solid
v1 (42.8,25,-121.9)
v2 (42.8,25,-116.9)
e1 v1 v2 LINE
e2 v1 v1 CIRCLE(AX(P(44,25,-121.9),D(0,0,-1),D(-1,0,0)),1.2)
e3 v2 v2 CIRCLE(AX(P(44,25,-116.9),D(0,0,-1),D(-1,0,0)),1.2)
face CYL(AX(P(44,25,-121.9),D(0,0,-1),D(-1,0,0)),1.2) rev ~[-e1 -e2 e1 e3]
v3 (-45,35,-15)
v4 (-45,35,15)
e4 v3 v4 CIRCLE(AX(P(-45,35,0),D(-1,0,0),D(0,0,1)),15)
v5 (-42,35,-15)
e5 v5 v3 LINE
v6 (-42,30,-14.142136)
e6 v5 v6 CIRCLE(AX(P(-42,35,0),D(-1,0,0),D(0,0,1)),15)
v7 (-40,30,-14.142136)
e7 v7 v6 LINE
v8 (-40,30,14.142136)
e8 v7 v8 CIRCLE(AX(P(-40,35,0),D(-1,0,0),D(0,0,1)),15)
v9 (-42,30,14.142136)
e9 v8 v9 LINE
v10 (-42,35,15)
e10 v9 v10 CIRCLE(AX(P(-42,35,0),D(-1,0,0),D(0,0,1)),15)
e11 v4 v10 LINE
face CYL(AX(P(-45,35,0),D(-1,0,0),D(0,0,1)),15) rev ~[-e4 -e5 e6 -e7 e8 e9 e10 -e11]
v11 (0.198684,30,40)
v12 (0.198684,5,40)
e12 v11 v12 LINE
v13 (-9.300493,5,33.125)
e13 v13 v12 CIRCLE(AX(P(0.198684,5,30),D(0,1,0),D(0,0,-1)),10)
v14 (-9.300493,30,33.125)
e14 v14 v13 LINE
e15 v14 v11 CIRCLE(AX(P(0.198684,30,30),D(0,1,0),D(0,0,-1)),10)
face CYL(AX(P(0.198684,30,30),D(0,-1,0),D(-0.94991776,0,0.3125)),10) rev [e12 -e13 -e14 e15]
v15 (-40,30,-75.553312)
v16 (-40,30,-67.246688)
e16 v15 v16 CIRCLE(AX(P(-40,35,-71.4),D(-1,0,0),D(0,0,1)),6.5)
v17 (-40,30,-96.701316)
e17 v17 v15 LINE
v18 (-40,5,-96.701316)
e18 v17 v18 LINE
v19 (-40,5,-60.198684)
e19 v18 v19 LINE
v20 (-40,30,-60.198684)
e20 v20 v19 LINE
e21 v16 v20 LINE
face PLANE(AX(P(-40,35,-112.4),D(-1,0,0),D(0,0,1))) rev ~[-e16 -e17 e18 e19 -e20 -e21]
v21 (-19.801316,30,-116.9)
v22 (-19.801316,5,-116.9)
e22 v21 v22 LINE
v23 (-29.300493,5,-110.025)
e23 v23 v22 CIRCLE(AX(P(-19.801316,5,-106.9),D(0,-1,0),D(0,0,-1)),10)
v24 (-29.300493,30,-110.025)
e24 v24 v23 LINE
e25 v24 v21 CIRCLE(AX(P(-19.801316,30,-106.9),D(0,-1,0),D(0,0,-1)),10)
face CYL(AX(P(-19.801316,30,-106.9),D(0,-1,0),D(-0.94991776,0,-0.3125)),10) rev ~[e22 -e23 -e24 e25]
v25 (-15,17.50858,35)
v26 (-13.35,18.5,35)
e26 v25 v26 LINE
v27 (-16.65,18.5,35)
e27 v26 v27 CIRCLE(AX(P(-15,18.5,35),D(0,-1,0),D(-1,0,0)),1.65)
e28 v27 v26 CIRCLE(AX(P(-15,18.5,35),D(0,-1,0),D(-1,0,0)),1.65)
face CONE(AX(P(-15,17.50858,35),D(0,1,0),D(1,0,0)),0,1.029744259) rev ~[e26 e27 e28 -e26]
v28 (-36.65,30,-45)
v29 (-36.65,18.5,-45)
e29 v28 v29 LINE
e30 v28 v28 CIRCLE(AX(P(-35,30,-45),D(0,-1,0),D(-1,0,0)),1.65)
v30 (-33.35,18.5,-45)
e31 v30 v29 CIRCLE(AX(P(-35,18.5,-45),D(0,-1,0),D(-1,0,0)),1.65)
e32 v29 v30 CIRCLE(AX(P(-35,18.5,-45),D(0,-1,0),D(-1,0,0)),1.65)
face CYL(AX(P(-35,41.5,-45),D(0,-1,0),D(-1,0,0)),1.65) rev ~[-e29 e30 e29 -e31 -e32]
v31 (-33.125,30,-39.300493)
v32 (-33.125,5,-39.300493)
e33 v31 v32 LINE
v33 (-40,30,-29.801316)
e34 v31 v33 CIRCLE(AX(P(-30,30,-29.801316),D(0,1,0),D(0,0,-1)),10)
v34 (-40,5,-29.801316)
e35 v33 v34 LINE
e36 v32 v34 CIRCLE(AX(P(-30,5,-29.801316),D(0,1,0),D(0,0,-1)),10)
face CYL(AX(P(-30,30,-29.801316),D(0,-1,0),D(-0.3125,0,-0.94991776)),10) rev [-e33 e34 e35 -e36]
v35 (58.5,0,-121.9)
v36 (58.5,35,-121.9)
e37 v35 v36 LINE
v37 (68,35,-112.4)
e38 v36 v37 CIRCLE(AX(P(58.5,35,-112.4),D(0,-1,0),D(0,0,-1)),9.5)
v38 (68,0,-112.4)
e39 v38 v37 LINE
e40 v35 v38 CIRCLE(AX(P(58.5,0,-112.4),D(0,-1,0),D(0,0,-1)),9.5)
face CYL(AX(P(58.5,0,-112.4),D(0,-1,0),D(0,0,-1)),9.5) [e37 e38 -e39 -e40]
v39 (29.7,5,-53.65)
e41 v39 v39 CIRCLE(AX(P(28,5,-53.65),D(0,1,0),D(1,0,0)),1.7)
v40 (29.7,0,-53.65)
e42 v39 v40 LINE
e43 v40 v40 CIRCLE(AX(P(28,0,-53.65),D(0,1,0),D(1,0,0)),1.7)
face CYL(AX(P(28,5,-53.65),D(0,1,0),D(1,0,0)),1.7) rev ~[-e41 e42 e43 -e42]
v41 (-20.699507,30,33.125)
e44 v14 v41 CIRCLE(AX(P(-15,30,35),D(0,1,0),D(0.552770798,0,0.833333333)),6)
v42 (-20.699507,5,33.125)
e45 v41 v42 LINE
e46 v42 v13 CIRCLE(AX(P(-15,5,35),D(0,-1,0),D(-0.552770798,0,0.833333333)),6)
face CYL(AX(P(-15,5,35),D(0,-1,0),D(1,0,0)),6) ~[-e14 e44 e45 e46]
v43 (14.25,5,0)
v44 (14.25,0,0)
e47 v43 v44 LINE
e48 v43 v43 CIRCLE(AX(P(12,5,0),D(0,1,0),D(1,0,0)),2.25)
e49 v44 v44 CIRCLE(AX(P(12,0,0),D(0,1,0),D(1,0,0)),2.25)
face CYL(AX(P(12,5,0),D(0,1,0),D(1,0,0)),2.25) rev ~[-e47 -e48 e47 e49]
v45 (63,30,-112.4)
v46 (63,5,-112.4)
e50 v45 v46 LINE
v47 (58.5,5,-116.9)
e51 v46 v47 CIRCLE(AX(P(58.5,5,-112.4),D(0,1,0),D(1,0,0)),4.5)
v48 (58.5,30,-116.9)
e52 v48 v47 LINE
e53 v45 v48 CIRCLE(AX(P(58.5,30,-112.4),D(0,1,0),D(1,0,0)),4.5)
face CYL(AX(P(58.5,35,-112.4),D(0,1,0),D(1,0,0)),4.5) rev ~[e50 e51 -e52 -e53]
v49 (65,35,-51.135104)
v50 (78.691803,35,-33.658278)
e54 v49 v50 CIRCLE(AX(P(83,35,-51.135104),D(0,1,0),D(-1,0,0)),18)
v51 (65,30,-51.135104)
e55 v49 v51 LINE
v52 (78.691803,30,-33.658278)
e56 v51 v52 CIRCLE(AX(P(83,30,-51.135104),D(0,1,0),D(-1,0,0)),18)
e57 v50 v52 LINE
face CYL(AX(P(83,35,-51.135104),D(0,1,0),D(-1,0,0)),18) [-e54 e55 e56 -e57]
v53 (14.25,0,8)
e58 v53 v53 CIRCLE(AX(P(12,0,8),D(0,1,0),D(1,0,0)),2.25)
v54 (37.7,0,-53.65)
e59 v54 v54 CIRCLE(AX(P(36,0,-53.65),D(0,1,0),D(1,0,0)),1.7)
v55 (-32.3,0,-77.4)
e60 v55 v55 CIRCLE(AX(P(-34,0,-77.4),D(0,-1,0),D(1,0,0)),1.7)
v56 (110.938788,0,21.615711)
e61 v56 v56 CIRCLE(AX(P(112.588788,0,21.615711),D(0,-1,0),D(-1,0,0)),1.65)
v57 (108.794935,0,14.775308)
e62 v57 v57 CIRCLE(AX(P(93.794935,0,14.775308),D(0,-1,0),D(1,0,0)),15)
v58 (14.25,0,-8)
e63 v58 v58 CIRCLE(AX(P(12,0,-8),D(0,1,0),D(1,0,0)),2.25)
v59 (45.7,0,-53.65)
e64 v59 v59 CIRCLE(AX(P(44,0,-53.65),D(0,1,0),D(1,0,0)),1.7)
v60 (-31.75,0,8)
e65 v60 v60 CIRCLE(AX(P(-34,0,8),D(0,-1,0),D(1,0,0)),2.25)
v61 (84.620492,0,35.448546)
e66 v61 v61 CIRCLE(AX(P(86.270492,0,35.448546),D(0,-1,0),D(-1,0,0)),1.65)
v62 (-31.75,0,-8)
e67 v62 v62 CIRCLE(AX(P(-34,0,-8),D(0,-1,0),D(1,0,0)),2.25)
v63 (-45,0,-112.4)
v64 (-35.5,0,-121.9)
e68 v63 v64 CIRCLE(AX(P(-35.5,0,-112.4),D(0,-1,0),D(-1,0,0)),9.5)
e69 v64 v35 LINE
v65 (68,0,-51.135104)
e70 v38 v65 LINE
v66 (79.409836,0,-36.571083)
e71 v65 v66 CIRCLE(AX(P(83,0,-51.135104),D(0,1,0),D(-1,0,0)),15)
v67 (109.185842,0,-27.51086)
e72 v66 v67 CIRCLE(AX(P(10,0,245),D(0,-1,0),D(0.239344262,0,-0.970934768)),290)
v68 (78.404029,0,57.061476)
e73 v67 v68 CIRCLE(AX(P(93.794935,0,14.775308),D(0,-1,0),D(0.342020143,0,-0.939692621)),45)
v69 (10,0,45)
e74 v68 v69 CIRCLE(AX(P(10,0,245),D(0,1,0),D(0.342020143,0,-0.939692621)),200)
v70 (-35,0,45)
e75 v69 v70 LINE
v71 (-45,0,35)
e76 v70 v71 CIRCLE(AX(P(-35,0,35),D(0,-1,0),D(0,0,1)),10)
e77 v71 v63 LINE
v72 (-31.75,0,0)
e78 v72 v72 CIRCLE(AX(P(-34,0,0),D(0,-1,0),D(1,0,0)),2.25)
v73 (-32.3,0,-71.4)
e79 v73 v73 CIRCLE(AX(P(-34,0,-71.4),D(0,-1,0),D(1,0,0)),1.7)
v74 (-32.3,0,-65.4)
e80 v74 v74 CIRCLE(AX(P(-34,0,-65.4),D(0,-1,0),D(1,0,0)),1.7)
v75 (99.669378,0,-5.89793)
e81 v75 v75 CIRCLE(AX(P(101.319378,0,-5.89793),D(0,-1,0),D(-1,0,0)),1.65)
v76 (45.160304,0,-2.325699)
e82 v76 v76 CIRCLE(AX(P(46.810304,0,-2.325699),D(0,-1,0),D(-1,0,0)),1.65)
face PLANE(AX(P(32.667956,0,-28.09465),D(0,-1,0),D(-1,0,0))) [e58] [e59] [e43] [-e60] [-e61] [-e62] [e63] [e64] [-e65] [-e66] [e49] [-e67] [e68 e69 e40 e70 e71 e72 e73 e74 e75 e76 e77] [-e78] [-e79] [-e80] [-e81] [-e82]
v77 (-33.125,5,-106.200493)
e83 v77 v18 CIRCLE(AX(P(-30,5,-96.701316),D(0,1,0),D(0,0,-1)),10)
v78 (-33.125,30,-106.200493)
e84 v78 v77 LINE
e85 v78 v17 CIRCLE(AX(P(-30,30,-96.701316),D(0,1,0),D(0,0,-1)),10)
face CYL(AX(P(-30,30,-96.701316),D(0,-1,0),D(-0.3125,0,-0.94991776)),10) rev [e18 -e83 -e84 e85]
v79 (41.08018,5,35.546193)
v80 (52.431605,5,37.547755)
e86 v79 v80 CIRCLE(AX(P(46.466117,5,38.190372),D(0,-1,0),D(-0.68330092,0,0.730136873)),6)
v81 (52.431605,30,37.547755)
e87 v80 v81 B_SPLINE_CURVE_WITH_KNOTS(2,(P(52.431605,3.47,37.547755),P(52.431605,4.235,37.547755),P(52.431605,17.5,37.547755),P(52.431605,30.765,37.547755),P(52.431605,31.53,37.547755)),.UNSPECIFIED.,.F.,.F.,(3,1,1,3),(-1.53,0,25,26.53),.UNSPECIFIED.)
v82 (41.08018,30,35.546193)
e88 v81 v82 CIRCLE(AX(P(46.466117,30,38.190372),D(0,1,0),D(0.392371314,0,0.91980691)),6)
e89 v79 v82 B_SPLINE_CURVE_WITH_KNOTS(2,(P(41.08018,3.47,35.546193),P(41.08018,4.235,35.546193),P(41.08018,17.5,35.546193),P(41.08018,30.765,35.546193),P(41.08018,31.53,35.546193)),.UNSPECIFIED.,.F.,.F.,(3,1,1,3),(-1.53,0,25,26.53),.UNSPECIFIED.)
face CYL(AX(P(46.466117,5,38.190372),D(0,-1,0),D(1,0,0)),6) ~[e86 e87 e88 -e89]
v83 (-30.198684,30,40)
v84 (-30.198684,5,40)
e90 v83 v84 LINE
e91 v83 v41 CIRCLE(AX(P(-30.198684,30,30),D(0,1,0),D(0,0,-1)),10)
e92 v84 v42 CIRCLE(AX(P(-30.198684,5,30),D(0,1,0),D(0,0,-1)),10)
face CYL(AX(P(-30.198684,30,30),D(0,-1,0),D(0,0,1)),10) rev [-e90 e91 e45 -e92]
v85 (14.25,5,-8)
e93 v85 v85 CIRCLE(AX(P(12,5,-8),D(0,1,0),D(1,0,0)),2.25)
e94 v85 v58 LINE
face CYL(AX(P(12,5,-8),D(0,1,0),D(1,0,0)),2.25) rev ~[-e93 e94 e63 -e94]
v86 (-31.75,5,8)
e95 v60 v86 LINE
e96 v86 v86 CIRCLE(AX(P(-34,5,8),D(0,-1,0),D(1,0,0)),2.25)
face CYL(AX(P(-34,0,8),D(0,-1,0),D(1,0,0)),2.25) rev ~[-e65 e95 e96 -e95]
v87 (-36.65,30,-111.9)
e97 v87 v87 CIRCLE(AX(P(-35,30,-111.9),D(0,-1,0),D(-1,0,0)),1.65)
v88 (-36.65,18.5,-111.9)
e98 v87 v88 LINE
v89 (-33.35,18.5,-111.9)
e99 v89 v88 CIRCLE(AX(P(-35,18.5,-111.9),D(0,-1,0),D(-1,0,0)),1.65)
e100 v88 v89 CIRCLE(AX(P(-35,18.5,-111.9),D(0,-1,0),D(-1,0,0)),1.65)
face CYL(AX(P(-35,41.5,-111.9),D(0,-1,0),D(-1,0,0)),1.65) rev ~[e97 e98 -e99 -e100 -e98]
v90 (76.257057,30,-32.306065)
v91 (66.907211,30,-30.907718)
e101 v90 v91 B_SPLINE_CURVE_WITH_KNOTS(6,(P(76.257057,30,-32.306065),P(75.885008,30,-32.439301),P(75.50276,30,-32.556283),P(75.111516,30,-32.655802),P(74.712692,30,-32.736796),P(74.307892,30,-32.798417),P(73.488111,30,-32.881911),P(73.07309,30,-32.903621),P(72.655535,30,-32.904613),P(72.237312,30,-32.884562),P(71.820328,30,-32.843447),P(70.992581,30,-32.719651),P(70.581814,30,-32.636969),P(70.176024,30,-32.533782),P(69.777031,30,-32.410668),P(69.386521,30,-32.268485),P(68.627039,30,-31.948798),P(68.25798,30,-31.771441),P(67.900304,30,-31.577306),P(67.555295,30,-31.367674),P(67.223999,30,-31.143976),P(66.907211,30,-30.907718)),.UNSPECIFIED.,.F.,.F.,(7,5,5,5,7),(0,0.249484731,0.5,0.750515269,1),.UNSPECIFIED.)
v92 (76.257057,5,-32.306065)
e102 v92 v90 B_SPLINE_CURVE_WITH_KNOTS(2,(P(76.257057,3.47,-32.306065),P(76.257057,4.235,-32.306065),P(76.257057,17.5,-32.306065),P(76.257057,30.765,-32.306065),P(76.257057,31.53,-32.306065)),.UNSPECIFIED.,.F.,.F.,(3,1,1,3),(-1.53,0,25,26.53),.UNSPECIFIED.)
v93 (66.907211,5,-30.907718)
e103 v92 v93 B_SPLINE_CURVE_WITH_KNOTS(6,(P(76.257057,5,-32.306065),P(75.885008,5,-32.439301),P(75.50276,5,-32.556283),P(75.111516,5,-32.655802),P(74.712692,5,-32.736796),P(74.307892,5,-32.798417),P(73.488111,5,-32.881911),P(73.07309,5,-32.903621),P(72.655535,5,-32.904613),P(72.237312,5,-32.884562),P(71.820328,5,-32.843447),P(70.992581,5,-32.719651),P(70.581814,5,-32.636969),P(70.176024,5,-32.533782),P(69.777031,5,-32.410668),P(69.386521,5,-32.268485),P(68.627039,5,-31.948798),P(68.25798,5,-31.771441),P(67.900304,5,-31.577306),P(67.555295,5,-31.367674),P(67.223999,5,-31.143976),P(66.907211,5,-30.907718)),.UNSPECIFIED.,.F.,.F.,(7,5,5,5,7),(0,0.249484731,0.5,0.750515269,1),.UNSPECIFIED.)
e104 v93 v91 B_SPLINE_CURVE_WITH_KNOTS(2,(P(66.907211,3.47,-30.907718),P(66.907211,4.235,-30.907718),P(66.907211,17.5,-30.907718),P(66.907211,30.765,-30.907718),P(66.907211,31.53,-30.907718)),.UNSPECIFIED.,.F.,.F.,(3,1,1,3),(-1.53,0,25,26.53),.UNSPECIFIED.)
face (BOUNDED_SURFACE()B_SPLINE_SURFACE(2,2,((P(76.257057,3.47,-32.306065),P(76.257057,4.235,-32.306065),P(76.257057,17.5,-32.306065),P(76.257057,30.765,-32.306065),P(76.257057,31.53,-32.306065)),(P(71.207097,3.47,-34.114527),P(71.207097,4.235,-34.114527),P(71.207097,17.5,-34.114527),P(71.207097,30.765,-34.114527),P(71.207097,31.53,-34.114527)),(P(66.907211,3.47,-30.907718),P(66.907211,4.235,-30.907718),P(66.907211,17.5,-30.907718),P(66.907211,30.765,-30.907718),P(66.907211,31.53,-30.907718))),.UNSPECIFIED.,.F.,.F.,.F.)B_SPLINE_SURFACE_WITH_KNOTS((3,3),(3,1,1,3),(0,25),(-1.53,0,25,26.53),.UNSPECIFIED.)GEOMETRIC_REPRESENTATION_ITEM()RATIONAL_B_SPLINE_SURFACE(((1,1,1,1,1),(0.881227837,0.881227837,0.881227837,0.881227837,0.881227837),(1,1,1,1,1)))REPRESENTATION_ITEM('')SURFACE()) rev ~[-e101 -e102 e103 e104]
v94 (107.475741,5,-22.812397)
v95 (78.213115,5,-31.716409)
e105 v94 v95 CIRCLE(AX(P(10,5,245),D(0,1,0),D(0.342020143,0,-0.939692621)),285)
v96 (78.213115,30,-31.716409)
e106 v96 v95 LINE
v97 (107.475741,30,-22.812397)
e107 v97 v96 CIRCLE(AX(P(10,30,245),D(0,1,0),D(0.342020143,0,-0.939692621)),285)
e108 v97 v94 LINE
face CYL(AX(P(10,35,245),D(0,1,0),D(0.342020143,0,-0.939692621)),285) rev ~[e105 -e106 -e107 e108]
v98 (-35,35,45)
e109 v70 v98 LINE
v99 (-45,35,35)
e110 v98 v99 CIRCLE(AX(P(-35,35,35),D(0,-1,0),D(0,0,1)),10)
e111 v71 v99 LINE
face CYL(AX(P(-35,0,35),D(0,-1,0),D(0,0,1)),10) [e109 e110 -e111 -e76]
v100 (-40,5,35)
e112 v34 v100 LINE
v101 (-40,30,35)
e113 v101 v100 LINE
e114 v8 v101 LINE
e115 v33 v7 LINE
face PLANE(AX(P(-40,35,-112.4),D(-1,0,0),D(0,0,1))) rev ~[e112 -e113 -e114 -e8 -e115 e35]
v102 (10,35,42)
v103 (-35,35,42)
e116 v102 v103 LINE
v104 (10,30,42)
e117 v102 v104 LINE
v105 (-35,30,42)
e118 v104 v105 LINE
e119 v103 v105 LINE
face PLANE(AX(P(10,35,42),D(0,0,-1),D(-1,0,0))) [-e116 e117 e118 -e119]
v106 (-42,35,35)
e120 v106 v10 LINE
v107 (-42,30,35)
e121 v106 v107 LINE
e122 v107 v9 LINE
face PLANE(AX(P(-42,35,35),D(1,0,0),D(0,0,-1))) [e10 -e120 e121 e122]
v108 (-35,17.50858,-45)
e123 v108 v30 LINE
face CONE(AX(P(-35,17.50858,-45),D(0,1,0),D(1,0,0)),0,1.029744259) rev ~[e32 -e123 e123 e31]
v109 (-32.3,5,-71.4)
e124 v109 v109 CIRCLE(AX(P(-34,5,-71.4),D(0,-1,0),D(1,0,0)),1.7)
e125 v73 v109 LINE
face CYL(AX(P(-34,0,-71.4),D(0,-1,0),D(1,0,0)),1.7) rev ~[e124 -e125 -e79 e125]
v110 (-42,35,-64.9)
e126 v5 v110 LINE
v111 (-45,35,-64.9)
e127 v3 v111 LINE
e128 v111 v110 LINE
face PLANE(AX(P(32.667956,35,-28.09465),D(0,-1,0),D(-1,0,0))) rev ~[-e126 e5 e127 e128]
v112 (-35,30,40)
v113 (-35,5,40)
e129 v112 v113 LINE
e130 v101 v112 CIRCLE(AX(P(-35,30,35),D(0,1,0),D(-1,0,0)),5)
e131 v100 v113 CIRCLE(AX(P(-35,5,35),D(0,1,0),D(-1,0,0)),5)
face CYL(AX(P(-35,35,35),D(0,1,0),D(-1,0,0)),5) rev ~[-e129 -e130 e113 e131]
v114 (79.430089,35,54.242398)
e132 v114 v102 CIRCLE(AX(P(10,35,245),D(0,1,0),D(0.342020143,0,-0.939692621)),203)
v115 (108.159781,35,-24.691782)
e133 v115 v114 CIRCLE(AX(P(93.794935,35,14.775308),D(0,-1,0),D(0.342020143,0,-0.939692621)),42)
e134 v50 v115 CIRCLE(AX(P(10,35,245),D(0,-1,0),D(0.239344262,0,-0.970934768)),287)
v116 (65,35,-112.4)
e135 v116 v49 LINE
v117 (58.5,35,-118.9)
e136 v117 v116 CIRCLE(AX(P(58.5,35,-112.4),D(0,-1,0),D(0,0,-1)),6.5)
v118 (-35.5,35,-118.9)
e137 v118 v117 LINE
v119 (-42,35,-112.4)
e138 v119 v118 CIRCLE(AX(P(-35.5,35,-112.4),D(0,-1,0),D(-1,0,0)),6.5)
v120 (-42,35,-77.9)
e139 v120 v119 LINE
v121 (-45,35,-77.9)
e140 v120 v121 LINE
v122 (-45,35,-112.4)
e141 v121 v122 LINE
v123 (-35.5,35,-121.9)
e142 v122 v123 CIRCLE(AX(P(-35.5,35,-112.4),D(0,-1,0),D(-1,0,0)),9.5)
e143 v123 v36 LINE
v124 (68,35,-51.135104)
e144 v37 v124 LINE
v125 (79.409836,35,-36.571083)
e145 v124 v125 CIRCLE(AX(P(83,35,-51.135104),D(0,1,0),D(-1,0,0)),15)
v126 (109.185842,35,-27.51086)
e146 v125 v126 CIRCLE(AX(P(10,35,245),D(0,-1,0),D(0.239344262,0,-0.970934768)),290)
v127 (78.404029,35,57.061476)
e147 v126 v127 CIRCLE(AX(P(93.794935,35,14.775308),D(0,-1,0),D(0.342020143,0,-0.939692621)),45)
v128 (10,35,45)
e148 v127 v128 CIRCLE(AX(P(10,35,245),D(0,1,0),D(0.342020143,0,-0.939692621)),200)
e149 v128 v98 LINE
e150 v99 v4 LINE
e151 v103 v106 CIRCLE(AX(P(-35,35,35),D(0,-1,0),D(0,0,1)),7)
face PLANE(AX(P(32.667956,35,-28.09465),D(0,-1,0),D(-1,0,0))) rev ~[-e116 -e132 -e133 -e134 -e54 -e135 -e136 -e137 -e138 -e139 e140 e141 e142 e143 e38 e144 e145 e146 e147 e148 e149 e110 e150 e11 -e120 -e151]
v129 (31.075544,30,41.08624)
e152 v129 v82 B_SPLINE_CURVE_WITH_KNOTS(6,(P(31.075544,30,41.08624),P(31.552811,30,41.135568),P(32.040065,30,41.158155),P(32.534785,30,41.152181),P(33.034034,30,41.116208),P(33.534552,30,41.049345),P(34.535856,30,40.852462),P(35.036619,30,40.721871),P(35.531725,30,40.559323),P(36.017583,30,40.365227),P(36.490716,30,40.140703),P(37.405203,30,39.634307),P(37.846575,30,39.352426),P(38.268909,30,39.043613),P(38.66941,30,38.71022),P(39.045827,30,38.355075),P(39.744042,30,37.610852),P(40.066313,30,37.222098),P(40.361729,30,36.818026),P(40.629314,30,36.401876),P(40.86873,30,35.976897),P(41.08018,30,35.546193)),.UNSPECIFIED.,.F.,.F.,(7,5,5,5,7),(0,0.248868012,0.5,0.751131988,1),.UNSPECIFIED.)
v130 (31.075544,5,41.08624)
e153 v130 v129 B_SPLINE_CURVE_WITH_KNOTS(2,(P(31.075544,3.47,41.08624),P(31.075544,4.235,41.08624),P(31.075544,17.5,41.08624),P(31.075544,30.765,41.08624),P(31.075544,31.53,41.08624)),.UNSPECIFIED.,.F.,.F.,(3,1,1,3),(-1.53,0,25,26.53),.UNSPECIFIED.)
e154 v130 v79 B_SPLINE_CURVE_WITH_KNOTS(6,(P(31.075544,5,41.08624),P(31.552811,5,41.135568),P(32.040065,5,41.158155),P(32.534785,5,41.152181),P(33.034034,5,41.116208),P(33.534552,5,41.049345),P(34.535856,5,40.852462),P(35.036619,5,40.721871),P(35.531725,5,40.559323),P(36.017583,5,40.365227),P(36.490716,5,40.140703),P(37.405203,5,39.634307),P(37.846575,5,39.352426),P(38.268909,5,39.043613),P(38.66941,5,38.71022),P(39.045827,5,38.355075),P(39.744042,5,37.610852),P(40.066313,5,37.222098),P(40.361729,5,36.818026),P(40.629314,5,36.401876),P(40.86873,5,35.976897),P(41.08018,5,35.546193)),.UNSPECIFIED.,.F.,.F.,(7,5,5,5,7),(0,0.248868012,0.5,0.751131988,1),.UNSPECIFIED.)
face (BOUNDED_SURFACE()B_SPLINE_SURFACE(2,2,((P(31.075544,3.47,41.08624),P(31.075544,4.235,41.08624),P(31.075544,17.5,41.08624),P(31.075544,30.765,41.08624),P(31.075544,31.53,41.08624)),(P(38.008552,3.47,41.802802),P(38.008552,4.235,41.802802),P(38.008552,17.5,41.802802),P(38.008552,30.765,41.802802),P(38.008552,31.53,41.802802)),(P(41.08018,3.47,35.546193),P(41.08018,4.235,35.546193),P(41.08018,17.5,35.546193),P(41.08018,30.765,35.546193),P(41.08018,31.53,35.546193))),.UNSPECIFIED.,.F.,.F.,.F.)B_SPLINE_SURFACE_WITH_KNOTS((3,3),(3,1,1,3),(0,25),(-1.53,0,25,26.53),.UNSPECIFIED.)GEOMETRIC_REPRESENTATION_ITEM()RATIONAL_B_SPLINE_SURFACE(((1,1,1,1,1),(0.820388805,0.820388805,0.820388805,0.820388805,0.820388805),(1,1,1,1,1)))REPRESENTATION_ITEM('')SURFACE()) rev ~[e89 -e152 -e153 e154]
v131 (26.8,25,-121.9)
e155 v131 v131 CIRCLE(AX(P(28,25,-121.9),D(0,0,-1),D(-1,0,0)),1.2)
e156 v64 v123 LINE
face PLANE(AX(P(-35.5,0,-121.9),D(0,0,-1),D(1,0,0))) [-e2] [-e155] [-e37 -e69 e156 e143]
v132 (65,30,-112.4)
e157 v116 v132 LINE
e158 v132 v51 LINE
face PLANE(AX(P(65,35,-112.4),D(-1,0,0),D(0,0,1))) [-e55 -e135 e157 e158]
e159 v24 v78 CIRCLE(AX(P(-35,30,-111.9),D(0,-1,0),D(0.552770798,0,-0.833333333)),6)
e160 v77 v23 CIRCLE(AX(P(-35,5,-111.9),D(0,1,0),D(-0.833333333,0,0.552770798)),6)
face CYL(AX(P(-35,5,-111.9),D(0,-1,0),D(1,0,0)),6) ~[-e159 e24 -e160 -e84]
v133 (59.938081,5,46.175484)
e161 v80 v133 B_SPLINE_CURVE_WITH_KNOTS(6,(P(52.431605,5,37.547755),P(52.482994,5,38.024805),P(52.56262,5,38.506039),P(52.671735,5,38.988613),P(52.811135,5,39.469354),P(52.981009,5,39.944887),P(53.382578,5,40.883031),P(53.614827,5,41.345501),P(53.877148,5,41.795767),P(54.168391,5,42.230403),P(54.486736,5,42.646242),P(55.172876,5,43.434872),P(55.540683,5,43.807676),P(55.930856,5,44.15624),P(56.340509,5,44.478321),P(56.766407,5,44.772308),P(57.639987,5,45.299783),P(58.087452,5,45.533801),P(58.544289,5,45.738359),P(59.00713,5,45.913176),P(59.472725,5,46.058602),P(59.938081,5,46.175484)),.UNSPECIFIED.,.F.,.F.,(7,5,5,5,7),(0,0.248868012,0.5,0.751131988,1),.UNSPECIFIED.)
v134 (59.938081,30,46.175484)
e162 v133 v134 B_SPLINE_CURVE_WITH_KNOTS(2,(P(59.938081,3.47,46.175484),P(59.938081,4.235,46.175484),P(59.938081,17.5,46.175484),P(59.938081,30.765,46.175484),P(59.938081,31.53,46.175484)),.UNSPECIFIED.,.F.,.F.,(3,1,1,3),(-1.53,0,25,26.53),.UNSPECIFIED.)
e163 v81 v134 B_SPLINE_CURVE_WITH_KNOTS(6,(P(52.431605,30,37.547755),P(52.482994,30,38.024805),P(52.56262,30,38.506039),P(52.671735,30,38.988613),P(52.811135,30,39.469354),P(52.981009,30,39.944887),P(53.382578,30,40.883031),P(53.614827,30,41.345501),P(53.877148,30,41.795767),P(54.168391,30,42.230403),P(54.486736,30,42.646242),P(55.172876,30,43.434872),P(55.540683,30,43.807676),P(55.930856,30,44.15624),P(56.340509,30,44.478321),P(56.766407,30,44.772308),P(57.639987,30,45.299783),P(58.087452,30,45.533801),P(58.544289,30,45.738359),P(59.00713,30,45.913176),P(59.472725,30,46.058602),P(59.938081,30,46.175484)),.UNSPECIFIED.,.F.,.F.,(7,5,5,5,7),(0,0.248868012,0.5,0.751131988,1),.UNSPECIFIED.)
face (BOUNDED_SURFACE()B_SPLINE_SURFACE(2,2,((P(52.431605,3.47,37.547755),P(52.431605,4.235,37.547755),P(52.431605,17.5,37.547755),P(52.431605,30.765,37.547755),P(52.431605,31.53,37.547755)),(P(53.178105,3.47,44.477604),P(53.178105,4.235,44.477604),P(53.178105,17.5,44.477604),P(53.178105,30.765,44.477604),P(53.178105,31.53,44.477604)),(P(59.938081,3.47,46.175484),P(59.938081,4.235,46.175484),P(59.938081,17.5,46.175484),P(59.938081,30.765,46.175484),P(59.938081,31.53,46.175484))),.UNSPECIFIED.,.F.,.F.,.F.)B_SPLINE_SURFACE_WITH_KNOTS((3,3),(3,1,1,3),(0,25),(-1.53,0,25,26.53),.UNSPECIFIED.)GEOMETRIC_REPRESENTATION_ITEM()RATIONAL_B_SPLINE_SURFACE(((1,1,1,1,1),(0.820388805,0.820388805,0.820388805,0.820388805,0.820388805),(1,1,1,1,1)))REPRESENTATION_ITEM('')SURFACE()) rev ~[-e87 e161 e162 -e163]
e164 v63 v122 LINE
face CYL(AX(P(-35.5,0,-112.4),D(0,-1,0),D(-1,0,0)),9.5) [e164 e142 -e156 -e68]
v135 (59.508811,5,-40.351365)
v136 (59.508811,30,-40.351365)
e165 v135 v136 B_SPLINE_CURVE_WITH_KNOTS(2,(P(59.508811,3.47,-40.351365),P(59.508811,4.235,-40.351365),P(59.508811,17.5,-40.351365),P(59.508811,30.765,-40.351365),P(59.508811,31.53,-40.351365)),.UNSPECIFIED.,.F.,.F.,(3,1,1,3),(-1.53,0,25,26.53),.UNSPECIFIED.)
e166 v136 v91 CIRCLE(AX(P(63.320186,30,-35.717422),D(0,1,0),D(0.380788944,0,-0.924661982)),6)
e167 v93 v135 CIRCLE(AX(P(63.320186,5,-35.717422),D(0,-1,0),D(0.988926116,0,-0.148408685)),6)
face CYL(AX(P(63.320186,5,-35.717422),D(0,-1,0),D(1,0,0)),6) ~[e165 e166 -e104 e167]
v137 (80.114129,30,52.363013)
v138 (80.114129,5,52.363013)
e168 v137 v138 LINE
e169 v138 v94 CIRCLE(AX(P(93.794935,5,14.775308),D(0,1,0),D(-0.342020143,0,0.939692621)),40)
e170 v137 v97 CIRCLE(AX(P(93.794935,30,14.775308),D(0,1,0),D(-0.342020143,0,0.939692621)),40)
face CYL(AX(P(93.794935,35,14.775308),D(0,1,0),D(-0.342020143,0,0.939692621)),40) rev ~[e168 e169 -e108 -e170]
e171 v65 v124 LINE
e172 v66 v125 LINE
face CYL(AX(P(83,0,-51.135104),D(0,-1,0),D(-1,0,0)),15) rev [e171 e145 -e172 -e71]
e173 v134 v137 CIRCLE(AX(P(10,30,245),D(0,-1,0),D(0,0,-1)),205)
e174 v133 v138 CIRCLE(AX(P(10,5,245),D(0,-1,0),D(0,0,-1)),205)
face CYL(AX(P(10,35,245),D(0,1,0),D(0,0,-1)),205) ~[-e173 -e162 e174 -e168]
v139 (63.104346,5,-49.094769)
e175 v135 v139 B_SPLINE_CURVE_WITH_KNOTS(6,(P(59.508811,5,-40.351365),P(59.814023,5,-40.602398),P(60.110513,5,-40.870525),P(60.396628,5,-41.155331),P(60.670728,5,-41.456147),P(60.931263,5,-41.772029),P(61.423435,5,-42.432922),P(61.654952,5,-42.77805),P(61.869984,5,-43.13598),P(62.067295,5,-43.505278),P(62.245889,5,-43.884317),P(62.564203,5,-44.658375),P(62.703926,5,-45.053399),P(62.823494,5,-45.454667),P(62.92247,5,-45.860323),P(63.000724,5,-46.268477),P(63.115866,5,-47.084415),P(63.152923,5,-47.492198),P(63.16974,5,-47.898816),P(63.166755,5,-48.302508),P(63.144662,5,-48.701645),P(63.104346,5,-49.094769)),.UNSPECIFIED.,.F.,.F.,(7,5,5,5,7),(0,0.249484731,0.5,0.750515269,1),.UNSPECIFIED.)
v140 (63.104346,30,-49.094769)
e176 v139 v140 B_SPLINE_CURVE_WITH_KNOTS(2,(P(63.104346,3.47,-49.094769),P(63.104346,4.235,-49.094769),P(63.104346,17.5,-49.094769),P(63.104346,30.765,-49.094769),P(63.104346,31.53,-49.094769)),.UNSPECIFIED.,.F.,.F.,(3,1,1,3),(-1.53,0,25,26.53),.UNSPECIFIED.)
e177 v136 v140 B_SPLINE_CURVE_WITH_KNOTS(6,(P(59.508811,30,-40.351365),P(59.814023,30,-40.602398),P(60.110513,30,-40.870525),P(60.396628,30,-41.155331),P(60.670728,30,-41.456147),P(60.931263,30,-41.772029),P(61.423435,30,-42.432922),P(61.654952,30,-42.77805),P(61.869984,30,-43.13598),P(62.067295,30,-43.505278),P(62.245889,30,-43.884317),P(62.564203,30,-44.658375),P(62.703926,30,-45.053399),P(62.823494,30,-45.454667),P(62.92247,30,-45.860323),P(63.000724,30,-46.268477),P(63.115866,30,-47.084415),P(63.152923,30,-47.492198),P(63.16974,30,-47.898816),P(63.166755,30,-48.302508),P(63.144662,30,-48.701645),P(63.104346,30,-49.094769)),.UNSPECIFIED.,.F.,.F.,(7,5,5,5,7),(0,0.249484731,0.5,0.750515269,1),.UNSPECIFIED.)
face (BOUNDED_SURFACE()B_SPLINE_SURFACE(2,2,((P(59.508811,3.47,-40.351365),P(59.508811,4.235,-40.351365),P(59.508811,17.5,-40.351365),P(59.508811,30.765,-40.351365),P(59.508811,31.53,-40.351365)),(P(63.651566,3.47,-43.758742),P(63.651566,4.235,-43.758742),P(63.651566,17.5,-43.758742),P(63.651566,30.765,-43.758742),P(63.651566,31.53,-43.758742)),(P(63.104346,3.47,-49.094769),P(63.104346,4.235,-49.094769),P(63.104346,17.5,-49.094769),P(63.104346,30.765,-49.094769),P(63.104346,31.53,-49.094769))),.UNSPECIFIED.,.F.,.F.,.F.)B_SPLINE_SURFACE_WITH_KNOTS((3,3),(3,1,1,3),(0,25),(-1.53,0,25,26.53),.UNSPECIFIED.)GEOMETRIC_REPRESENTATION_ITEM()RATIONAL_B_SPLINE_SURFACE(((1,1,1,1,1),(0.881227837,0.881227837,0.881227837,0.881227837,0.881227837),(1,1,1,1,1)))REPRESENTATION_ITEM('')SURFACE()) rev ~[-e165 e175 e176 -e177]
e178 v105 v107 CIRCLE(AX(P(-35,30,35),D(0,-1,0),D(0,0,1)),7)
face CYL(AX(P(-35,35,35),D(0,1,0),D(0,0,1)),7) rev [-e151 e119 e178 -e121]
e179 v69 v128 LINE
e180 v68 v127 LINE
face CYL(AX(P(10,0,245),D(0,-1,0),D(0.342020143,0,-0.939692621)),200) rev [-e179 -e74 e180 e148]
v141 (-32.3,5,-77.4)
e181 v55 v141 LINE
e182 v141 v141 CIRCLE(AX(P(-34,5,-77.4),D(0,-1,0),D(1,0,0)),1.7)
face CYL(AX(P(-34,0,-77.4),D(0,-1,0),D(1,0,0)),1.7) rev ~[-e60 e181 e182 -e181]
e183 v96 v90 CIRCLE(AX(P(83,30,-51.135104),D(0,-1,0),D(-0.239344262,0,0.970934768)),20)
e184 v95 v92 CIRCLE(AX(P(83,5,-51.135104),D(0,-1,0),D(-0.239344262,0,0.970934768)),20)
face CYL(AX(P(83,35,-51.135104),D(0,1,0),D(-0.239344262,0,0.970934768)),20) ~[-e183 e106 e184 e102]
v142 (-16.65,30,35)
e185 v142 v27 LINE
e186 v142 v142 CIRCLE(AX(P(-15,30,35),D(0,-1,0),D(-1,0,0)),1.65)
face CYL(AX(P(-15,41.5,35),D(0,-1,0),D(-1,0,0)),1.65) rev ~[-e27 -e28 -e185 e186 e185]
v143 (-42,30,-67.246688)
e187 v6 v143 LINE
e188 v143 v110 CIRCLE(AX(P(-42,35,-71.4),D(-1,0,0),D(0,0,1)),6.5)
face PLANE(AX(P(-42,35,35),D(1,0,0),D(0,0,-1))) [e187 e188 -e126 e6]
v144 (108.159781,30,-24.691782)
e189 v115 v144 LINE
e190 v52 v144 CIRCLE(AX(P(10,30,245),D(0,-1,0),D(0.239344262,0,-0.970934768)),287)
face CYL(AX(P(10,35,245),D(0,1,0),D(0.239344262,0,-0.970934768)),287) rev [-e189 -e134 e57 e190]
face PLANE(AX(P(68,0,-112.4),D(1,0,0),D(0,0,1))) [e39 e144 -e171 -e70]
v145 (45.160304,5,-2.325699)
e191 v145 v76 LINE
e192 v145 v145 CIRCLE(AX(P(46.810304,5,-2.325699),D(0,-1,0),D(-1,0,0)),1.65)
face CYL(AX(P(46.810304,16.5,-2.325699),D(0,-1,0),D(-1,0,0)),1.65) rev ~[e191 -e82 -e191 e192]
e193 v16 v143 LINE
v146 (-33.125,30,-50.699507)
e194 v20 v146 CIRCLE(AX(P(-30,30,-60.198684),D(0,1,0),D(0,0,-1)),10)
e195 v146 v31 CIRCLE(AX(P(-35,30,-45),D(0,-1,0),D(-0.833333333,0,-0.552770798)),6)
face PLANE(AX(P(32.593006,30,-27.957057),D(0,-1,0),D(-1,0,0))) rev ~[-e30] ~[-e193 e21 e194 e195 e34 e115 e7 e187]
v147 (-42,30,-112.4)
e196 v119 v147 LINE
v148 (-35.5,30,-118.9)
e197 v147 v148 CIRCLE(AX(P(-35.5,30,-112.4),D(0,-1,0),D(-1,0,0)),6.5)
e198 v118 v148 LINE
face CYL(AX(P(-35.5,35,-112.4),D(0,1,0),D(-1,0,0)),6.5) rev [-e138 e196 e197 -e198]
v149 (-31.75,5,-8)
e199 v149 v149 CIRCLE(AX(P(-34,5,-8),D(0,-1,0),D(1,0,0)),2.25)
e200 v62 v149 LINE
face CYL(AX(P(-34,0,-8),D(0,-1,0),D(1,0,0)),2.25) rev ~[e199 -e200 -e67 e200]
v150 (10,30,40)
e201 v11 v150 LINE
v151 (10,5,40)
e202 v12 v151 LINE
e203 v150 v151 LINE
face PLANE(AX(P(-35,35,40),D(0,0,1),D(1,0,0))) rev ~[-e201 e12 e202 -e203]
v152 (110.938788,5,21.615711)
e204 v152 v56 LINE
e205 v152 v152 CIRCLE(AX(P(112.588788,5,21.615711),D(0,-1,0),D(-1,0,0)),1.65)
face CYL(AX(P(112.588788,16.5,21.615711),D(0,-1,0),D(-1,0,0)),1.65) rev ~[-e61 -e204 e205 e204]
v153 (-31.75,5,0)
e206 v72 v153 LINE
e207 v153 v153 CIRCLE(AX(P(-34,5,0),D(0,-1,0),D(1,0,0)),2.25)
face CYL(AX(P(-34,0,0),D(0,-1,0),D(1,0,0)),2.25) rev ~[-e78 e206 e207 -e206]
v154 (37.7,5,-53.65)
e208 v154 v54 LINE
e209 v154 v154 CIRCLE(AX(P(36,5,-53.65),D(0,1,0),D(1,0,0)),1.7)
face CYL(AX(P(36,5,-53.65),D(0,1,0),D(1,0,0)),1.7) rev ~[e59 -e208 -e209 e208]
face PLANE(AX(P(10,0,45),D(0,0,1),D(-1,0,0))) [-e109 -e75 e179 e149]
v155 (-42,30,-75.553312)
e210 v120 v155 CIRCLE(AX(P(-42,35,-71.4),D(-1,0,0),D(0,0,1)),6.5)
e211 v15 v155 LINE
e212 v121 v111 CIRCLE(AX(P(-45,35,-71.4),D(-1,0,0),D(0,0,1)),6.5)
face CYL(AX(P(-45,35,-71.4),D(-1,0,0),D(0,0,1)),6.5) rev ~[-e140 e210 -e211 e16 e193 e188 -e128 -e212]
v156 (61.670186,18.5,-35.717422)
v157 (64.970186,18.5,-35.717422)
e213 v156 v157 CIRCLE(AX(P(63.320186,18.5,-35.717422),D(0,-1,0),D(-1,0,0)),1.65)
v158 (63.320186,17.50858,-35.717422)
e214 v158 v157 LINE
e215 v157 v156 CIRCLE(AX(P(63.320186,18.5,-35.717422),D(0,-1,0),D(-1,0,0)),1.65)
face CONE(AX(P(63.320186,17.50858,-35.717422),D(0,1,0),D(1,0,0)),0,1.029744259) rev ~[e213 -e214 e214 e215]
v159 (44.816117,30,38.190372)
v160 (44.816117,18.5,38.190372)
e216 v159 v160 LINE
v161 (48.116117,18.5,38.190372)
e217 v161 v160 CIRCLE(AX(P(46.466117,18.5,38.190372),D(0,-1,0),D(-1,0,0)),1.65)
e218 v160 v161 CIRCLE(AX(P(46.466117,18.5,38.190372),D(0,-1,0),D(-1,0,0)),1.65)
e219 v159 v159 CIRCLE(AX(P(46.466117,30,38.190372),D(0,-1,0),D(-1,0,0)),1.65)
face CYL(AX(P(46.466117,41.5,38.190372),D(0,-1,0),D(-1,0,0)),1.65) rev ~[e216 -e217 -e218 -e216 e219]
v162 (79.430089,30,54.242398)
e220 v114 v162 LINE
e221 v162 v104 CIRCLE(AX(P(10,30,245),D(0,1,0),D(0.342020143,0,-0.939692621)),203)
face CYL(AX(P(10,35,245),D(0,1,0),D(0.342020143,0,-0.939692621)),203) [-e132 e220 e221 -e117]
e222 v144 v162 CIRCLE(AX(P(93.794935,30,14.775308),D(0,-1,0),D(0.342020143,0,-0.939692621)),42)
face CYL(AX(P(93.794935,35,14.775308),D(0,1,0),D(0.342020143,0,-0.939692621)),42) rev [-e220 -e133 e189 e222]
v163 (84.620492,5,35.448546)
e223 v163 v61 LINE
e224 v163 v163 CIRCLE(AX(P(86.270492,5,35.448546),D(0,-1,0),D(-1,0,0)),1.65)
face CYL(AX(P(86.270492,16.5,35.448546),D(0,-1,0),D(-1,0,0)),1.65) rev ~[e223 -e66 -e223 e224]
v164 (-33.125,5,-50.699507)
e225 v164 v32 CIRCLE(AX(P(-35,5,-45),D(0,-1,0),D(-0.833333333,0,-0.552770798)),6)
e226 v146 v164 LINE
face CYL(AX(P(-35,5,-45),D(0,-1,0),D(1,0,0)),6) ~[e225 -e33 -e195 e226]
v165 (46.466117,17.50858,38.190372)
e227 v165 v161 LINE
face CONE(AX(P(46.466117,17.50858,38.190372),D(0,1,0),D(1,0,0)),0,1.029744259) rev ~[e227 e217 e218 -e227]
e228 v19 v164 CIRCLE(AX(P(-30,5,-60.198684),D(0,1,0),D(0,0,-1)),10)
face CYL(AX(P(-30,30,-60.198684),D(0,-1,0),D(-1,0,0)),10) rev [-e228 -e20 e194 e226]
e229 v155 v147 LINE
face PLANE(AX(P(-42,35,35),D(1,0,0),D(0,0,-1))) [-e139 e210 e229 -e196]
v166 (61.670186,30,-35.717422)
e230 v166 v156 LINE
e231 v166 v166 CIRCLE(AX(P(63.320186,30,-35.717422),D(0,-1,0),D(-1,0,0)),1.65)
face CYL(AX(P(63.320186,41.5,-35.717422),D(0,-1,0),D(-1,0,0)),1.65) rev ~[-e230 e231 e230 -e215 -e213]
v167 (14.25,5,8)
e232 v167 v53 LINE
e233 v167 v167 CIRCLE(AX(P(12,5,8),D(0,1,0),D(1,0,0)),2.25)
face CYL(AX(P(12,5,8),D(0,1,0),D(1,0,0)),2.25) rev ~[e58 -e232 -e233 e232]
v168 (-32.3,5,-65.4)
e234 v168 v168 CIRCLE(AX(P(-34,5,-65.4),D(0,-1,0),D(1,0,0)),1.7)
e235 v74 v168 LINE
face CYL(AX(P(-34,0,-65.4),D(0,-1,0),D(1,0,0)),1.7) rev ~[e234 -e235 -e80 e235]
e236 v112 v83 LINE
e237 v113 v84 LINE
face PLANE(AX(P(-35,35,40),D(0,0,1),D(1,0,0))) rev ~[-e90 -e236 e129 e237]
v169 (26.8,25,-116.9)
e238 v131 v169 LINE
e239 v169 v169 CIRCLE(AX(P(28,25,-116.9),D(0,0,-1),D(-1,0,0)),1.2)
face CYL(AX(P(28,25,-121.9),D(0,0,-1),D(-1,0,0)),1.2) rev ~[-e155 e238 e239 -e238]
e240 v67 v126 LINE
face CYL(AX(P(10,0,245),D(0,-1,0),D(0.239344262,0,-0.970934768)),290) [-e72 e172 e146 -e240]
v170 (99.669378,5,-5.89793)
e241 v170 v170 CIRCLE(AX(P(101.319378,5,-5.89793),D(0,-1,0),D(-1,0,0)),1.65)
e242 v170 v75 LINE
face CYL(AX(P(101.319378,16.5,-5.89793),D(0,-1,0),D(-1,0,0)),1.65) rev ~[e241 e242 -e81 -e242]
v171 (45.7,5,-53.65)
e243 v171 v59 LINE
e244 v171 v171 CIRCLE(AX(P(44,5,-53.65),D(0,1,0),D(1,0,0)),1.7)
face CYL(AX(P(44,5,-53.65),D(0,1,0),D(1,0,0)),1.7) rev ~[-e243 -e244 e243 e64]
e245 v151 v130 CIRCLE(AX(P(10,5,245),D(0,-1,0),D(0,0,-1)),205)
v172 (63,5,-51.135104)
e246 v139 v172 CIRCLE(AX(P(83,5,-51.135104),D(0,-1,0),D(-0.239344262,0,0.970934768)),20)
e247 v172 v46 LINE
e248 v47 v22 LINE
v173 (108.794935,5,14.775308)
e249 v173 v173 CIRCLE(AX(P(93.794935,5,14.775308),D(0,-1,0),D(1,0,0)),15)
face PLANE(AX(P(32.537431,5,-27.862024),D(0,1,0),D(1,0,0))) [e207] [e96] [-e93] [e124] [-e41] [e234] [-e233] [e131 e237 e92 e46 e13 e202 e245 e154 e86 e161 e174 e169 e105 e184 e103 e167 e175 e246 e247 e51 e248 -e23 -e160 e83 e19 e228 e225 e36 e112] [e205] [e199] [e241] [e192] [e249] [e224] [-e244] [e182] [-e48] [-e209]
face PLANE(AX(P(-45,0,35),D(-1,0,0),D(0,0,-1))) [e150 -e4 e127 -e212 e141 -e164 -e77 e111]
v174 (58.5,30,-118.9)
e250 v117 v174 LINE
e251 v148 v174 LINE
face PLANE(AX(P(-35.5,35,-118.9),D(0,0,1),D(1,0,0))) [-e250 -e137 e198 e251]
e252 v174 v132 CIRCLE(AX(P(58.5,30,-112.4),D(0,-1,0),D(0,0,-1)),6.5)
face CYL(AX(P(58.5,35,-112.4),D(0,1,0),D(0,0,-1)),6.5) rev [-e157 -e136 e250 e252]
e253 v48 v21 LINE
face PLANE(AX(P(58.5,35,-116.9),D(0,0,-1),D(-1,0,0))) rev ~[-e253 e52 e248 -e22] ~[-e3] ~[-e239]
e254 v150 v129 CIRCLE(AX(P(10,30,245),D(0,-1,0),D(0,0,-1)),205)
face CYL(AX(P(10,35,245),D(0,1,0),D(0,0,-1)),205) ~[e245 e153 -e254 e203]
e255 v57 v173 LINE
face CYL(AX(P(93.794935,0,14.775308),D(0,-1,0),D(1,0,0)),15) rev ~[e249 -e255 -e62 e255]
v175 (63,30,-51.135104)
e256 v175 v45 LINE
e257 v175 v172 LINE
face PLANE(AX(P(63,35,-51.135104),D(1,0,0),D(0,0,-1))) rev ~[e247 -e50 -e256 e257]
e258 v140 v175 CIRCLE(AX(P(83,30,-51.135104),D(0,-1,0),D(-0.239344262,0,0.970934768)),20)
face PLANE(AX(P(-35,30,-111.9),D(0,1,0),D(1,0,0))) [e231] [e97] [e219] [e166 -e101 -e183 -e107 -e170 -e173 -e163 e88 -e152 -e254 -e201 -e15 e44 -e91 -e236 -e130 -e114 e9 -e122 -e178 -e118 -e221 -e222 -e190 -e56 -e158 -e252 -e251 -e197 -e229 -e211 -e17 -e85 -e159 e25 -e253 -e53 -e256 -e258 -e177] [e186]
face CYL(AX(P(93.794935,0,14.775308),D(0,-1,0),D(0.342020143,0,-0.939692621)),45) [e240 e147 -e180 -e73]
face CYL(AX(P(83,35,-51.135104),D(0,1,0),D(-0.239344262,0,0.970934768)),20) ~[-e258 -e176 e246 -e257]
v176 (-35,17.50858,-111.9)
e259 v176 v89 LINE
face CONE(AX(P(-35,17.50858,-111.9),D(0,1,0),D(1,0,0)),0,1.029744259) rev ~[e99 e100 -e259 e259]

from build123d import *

# Parameters (mm, degrees)
EXTRUDE_1_DEPTH                  = 35
CUT_EXTRUDE_1_DEPTH              = 30
SKETCH_4_R                       = 15
CUT_EXTRUDE_3_DEPTH              = 10
SKETCH_9_R                       = 6.5
CUT_EXTRUDE_6_DEPTH              = 5
CUT_EXTRUDE_8_REACH              = 183.675
SKETCH_12_R                      = 1.2
CUT_EXTRUDE_9_DEPTH              = 5
CUT_EXTRUDE_10_REACH             = 7
SKETCH_14_R                      = 1.7
SKETCH_15_R                      = 1.7
CUT_EXTRUDE_11_DEPTH             = 5
SKETCH_21_R                      = 6
EXTRUDE_7_DEPTH                  = 25
FILLET_1_R                       = 10
FILLET_2_R                       = 10
FILLET_3_R                       = 10
CUT_EXTRUDE_17_REACH             = 7
SKETCH_23_R                      = 2.25
SKETCH_24_R                      = 2.25
CUT_EXTRUDE_18_DEPTH             = 36
HOLE_WIZARD_M4_1_D               = 3.3
HOLE_WIZARD_M4_1_DEPTH           = 11.5
HOLE_WIZARD_M4_1_TIP             = 0.991420021
CUT_EXTRUDE_19_REACH             = 37
SKETCH_3_R                       = 15
CUT_EXTRUDE_19_DIRECTION_2_DEPTH = 1
HOLE_WIZARD_M4_2_D               = 3.3
HOLE_WIZARD_M4_2_DEPTH           = 11.5
HOLE_WIZARD_M4_2_TIP             = 0.991420021


with BuildPart() as part:
    # 스케치1 → 보스-돌출1 (new body)
    with BuildSketch(Plane(origin=(0, 0, 0), x_dir=(1, 0, 0), z_dir=(0, 1, 0))):
        with BuildLine():
            Line((-35.5, 121.9), (10, 121.9))
            Line((10, 121.9), (58.5, 121.9))
            ThreePointArc((58.5, 121.9), (65.217514421, 119.117514421), (68, 112.4))
            Line((68, 112.4), (68, 51.135104302))
            ThreePointArc((68, 51.135104302), (71.192111556, 41.884495106), (79.409836066, 36.571082779))
            ThreePointArc((79.409836066, 36.571082779), (94.419473689, 32.440718825), (109.185841564, 27.510860028))
            ThreePointArc((109.185841564, 27.510860028), (136.08110305, -30.166214357), (78.404028665, -57.061475843))
            ThreePointArc((78.404028665, -57.061475843), (44.729635533, -48.038449398), (10, -45))
            Line((10, -45), (-35, -45))
            ThreePointArc((-35, -45), (-42.071067812, -42.071067812), (-45, -35))
            Line((-45, -35), (-45, 112.4))
            ThreePointArc((-45, 112.4), (-42.217514421, 119.117514421), (-35.5, 121.9))
        make_face()
    extrude(amount=EXTRUDE_1_DEPTH)

    # 스케치2 → 컷-돌출1 (cut)
    with BuildSketch(Plane(origin=(0, 35, 0), x_dir=(1, 0, 0), z_dir=(0, 1, 0))):
        with BuildLine():
            Line((-40, 112.4), (-40, -35))
            ThreePointArc((-40, -35), (-38.535533906, -38.535533906), (-35, -40))
            Line((-35, -40), (10, -40))
            ThreePointArc((10, -40), (45.597876422, -43.114410632), (80.114129382, -52.363012739))
            ThreePointArc((80.114129382, -52.363012739), (131.382639946, -28.45611364), (107.475740848, 22.812396924))
            ThreePointArc((107.475740848, 22.812396924), (92.963965522, 27.657258155), (78.213114754, 31.716408938))
            ThreePointArc((78.213114754, 31.716408938), (67.256148741, 38.800958708), (63, 51.135104302))
            Line((63, 51.135104302), (63, 112.4))
            ThreePointArc((63, 112.4), (61.681980515, 115.581980515), (58.5, 116.9))
            Line((58.5, 116.9), (-35.5, 116.9))
            ThreePointArc((-35.5, 116.9), (-38.681980515, 115.581980515), (-40, 112.4))
        make_face()
    extrude(amount=-CUT_EXTRUDE_1_DEPTH, mode=Mode.SUBTRACT)

    # 스케치4 → 컷-돌출3 (cut)
    with BuildSketch(Plane.ZY.offset(45)):
        with Locations((0, 35)):
            Circle(SKETCH_4_R)
    extrude(amount=-CUT_EXTRUDE_3_DEPTH, mode=Mode.SUBTRACT)

    # 스케치9 → 컷-돌출6 (cut)
    with BuildSketch(Plane.ZY.offset(45)):
        with Locations((-71.4, 35)):
            Circle(SKETCH_9_R)
    extrude(amount=-CUT_EXTRUDE_6_DEPTH, mode=Mode.SUBTRACT)

    # 스케치12 → 컷-돌출8 (cut, up to next)
    with BuildSketch(Plane(origin=(0, 0, -121.9), x_dir=(-1, 0, 0), z_dir=(0, 0, -1)), mode=Mode.PRIVATE) as cut_extrude_8_sk1:
        with Locations((-44, 25)):
            Circle(SKETCH_12_R)
    cut_extrude_8_tool1 = extrude(cut_extrude_8_sk1.sketch, amount=-CUT_EXTRUDE_8_REACH, mode=Mode.PRIVATE) & part.part
    add(cut_extrude_8_tool1.solids().sort_by_distance((44, 25, -121.9))[0], mode=Mode.SUBTRACT)
    # 스케치12 → 컷-돌출8 (cut, up to next)
    with BuildSketch(Plane(origin=(0, 0, -121.9), x_dir=(-1, 0, 0), z_dir=(0, 0, -1)), mode=Mode.PRIVATE) as cut_extrude_8_sk2:
        with Locations((-28, 25)):
            Circle(SKETCH_12_R)
    cut_extrude_8_tool2 = extrude(cut_extrude_8_sk2.sketch, amount=-CUT_EXTRUDE_8_REACH, mode=Mode.PRIVATE) & part.part
    add(cut_extrude_8_tool2.solids().sort_by_distance((28, 25, -121.9))[0], mode=Mode.SUBTRACT)

    # 스케치13 → 컷-돌출9 (cut)
    with BuildSketch(Plane(origin=(0, 35, 0), x_dir=(1, 0, 0), z_dir=(0, 1, 0))):
        with BuildLine():
            Line((-42, -35), (-42, -28.086909805))
            Line((-42, -28.086909805), (-42, 64.9))
            Line((-42, 64.9), (-42, 77.9))
            Line((-42, 77.9), (-42, 112.4))
            ThreePointArc((-42, 112.4), (-40.096194078, 116.996194078), (-35.5, 118.9))
            Line((-35.5, 118.9), (58.5, 118.9))
            ThreePointArc((58.5, 118.9), (63.096194078, 116.996194078), (65, 112.4))
            Line((65, 112.4), (65, 51.135104302))
            ThreePointArc((65, 51.135104302), (68.830533867, 40.034373267), (78.691803279, 33.658278474))
            ThreePointArc((78.691803279, 33.658278474), (93.546168789, 29.570642423), (108.159781134, 24.691782166))
            ThreePointArc((108.159781134, 24.691782166), (133.262025188, -29.140153927), (79.430089095, -54.24239798))
            ThreePointArc((79.430089095, -54.24239798), (45.250580066, -45.084026139), (10, -42))
            Line((10, -42), (-35, -42))
            ThreePointArc((-35, -42), (-39.949747468, -39.949747468), (-42, -35))
        make_face()
        with BuildLine():
            Line((-40, -28.086909805), (-40, -35))
            ThreePointArc((-40, -35), (-38.535533906, -38.535533906), (-35, -40))
            Line((-35, -40), (10, -40))
            ThreePointArc((10, -40), (45.597876422, -43.114410632), (80.114129382, -52.363012739))
            ThreePointArc((80.114129382, -52.363012739), (131.382639946, -28.45611364), (107.475740848, 22.812396924))
            ThreePointArc((107.475740848, 22.812396924), (92.963965522, 27.657258155), (78.213114754, 31.716408938))
            ThreePointArc((78.213114754, 31.716408938), (67.256148741, 38.800958708), (63, 51.135104302))
            Line((63, 51.135104302), (63, 112.4))
            ThreePointArc((63, 112.4), (61.681980515, 115.581980515), (58.5, 116.9))
            Line((58.5, 116.9), (-35.5, 116.9))
            ThreePointArc((-35.5, 116.9), (-38.681980515, 115.581980515), (-40, 112.4))
            Line((-40, 112.4), (-40, 77.9))
            Line((-40, 77.9), (-40, 64.9))
            Line((-40, 64.9), (-40, -28.086909805))
        make_face(mode=Mode.SUBTRACT)
    extrude(amount=-CUT_EXTRUDE_9_DEPTH, mode=Mode.SUBTRACT)

    # 스케치14 → 컷-돌출10 (cut, up to next)
    with BuildSketch(Plane(origin=(0, 5, 0), x_dir=(1, 0, 0), z_dir=(0, 1, 0)), mode=Mode.PRIVATE) as cut_extrude_10_sk1:
        with Locations((36, 53.65)):
            Circle(SKETCH_14_R)
    cut_extrude_10_tool1 = extrude(cut_extrude_10_sk1.sketch, amount=-CUT_EXTRUDE_10_REACH, mode=Mode.PRIVATE) & part.part
    add(cut_extrude_10_tool1.solids().sort_by_distance((36, 5, -53.65))[0], mode=Mode.SUBTRACT)
    # 스케치14 → 컷-돌출10 (cut, up to next)
    with BuildSketch(Plane(origin=(0, 5, 0), x_dir=(1, 0, 0), z_dir=(0, 1, 0)), mode=Mode.PRIVATE) as cut_extrude_10_sk2:
        with Locations((28, 53.65)):
            Circle(SKETCH_14_R)
    cut_extrude_10_tool2 = extrude(cut_extrude_10_sk2.sketch, amount=-CUT_EXTRUDE_10_REACH, mode=Mode.PRIVATE) & part.part
    add(cut_extrude_10_tool2.solids().sort_by_distance((28, 5, -53.65))[0], mode=Mode.SUBTRACT)
    # 스케치14 → 컷-돌출10 (cut, up to next)
    with BuildSketch(Plane(origin=(0, 5, 0), x_dir=(1, 0, 0), z_dir=(0, 1, 0)), mode=Mode.PRIVATE) as cut_extrude_10_sk3:
        with Locations((44, 53.65)):
            Circle(SKETCH_14_R)
    cut_extrude_10_tool3 = extrude(cut_extrude_10_sk3.sketch, amount=-CUT_EXTRUDE_10_REACH, mode=Mode.PRIVATE) & part.part
    add(cut_extrude_10_tool3.solids().sort_by_distance((44, 5, -53.65))[0], mode=Mode.SUBTRACT)

    # 스케치15 → 컷-돌출11 (cut)
    with BuildSketch(Plane.XZ):
        with Locations((-34, -65.4)):
            Circle(SKETCH_15_R)
        with Locations((-34, -71.4)):
            Circle(SKETCH_15_R)
        with Locations((-34, -77.4)):
            Circle(SKETCH_15_R)
    extrude(amount=-CUT_EXTRUDE_11_DEPTH, mode=Mode.SUBTRACT)

    # 스케치21 → 보스-돌출7 (add)
    with BuildSketch(Plane(origin=(0, 5, 0), x_dir=(1, 0, 0), z_dir=(0, 1, 0))):
        with Locations((-35, 111.9)):
            Circle(SKETCH_21_R)
        with Locations((-15, -35)):
            Circle(SKETCH_21_R)
        with Locations((-35, 45)):
            Circle(SKETCH_21_R)
        with Locations((63.320185927, 35.717422309)):
            Circle(SKETCH_21_R)
        with Locations((46.46611731, -38.190371867)):
            Circle(SKETCH_21_R)
    extrude(amount=EXTRUDE_7_DEPTH)

    # 필렛1
    fillet_1_edges = [part.edges().sort_by_distance(p)[0] for p in [
        (-40, 17.5, -108.58337521),
        (-31.68337521, 17.5, -116.9),
        (69.25374262, 17.5, -36.60787442),
        (65.60491959, 17.5, -41.265394199),
        (42.366311792, 17.5, 42.571193105),
        (48.820345194, 17.5, 43.709213328),
    ]]
    fillet(fillet_1_edges, radius=FILLET_1_R)

    # 필렛2
    fillet_2_edges = [part.edges().sort_by_distance(p)[0] for p in [
        (-40, 17.5, -48.31662479),
        (-40, 17.5, -41.68337521),
    ]]
    fillet(fillet_2_edges, radius=FILLET_2_R)

    # 필렛3
    fillet_3_edges = [part.edges().sort_by_distance(p)[0] for p in [
        (-18.31662479, 17.5, 40),
        (-11.68337521, 17.5, 40),
    ]]
    fillet(fillet_3_edges, radius=FILLET_3_R)

    # 스케치23 → 컷-돌출17 (cut, up to next)
    with BuildSketch(Plane(origin=(0, 5, 0), x_dir=(1, 0, 0), z_dir=(0, 1, 0)), mode=Mode.PRIVATE) as cut_extrude_17_sk1:
        with Locations((12, 0)):
            Circle(SKETCH_23_R)
    cut_extrude_17_tool1 = extrude(cut_extrude_17_sk1.sketch, amount=-CUT_EXTRUDE_17_REACH, mode=Mode.PRIVATE) & part.part
    add(cut_extrude_17_tool1.solids().sort_by_distance((12, 5, 0))[0], mode=Mode.SUBTRACT)
    # 스케치23 → 컷-돌출17 (cut, up to next)
    with BuildSketch(Plane(origin=(0, 5, 0), x_dir=(1, 0, 0), z_dir=(0, 1, 0)), mode=Mode.PRIVATE) as cut_extrude_17_sk2:
        with Locations((12, -8)):
            Circle(SKETCH_23_R)
    cut_extrude_17_tool2 = extrude(cut_extrude_17_sk2.sketch, amount=-CUT_EXTRUDE_17_REACH, mode=Mode.PRIVATE) & part.part
    add(cut_extrude_17_tool2.solids().sort_by_distance((12, 5, 8))[0], mode=Mode.SUBTRACT)
    # 스케치23 → 컷-돌출17 (cut, up to next)
    with BuildSketch(Plane(origin=(0, 5, 0), x_dir=(1, 0, 0), z_dir=(0, 1, 0)), mode=Mode.PRIVATE) as cut_extrude_17_sk3:
        with Locations((12, 8)):
            Circle(SKETCH_23_R)
    cut_extrude_17_tool3 = extrude(cut_extrude_17_sk3.sketch, amount=-CUT_EXTRUDE_17_REACH, mode=Mode.PRIVATE) & part.part
    add(cut_extrude_17_tool3.solids().sort_by_distance((12, 5, -8))[0], mode=Mode.SUBTRACT)

    # 스케치24 → 컷-돌출18 (cut, through all)
    with BuildSketch(Plane.XZ):
        with Locations((-34, -8)):
            Circle(SKETCH_24_R)
        with Locations((-34, 0)):
            Circle(SKETCH_24_R)
        with Locations((-34, 8)):
            Circle(SKETCH_24_R)
    extrude(amount=-CUT_EXTRUDE_18_DEPTH, mode=Mode.SUBTRACT)

    # M4 나사 구멍1
    with Locations(Plane(origin=(0, 30, 0), x_dir=(1, 0, 0), z_dir=(0, 1, 0))):
        with Locations((-35, 111.9), (-35, 45), (-15, -35), (46.46611731, -38.190371867), (63.320185927, 35.717422309)):
            Hole(HOLE_WIZARD_M4_1_D / 2, depth=HOLE_WIZARD_M4_1_DEPTH)
            with Locations((0, 0, -(HOLE_WIZARD_M4_1_DEPTH + HOLE_WIZARD_M4_1_TIP / 2))):  # 118° drill point
                Cone(0, HOLE_WIZARD_M4_1_D / 2, HOLE_WIZARD_M4_1_TIP, mode=Mode.SUBTRACT)

    # 스케치3 → 컷-돌출19 (cut, up to next)
    with BuildSketch(Plane.XZ, mode=Mode.PRIVATE) as cut_extrude_19_sk1:
        with Locations((93.794935115, 14.775307907)):
            Circle(SKETCH_3_R)
    cut_extrude_19_tool1 = extrude(cut_extrude_19_sk1.sketch, amount=-CUT_EXTRUDE_19_REACH, mode=Mode.PRIVATE) & part.part
    add(cut_extrude_19_tool1.solids().sort_by_distance((93.794935, 0, 14.775308))[0], mode=Mode.SUBTRACT)

    # 스케치3 → 컷-돌출19 direction 2 (cut)
    with BuildSketch(Plane.XZ):
        with Locations((93.794935115, 14.775307907)):
            Circle(SKETCH_3_R)
    extrude(amount=CUT_EXTRUDE_19_DIRECTION_2_DEPTH, mode=Mode.SUBTRACT)

    # M4 나사 구멍2
    with Locations(Plane(origin=(0, 5, 0), x_dir=(1, 0, 0), z_dir=(0, 1, 0))):
        with Locations((46.810304075, 2.325699259), (101.319378268, 5.89792975), (112.588787531, -21.615710774), (86.270491962, -35.448545565)):
            Hole(HOLE_WIZARD_M4_2_D / 2, depth=HOLE_WIZARD_M4_2_DEPTH)
            with Locations((0, 0, -(HOLE_WIZARD_M4_2_DEPTH + HOLE_WIZARD_M4_2_TIP / 2))):  # 118° drill point
                Cone(0, HOLE_WIZARD_M4_2_D / 2, HOLE_WIZARD_M4_2_TIP, mode=Mode.SUBTRACT)


solid = part.part
